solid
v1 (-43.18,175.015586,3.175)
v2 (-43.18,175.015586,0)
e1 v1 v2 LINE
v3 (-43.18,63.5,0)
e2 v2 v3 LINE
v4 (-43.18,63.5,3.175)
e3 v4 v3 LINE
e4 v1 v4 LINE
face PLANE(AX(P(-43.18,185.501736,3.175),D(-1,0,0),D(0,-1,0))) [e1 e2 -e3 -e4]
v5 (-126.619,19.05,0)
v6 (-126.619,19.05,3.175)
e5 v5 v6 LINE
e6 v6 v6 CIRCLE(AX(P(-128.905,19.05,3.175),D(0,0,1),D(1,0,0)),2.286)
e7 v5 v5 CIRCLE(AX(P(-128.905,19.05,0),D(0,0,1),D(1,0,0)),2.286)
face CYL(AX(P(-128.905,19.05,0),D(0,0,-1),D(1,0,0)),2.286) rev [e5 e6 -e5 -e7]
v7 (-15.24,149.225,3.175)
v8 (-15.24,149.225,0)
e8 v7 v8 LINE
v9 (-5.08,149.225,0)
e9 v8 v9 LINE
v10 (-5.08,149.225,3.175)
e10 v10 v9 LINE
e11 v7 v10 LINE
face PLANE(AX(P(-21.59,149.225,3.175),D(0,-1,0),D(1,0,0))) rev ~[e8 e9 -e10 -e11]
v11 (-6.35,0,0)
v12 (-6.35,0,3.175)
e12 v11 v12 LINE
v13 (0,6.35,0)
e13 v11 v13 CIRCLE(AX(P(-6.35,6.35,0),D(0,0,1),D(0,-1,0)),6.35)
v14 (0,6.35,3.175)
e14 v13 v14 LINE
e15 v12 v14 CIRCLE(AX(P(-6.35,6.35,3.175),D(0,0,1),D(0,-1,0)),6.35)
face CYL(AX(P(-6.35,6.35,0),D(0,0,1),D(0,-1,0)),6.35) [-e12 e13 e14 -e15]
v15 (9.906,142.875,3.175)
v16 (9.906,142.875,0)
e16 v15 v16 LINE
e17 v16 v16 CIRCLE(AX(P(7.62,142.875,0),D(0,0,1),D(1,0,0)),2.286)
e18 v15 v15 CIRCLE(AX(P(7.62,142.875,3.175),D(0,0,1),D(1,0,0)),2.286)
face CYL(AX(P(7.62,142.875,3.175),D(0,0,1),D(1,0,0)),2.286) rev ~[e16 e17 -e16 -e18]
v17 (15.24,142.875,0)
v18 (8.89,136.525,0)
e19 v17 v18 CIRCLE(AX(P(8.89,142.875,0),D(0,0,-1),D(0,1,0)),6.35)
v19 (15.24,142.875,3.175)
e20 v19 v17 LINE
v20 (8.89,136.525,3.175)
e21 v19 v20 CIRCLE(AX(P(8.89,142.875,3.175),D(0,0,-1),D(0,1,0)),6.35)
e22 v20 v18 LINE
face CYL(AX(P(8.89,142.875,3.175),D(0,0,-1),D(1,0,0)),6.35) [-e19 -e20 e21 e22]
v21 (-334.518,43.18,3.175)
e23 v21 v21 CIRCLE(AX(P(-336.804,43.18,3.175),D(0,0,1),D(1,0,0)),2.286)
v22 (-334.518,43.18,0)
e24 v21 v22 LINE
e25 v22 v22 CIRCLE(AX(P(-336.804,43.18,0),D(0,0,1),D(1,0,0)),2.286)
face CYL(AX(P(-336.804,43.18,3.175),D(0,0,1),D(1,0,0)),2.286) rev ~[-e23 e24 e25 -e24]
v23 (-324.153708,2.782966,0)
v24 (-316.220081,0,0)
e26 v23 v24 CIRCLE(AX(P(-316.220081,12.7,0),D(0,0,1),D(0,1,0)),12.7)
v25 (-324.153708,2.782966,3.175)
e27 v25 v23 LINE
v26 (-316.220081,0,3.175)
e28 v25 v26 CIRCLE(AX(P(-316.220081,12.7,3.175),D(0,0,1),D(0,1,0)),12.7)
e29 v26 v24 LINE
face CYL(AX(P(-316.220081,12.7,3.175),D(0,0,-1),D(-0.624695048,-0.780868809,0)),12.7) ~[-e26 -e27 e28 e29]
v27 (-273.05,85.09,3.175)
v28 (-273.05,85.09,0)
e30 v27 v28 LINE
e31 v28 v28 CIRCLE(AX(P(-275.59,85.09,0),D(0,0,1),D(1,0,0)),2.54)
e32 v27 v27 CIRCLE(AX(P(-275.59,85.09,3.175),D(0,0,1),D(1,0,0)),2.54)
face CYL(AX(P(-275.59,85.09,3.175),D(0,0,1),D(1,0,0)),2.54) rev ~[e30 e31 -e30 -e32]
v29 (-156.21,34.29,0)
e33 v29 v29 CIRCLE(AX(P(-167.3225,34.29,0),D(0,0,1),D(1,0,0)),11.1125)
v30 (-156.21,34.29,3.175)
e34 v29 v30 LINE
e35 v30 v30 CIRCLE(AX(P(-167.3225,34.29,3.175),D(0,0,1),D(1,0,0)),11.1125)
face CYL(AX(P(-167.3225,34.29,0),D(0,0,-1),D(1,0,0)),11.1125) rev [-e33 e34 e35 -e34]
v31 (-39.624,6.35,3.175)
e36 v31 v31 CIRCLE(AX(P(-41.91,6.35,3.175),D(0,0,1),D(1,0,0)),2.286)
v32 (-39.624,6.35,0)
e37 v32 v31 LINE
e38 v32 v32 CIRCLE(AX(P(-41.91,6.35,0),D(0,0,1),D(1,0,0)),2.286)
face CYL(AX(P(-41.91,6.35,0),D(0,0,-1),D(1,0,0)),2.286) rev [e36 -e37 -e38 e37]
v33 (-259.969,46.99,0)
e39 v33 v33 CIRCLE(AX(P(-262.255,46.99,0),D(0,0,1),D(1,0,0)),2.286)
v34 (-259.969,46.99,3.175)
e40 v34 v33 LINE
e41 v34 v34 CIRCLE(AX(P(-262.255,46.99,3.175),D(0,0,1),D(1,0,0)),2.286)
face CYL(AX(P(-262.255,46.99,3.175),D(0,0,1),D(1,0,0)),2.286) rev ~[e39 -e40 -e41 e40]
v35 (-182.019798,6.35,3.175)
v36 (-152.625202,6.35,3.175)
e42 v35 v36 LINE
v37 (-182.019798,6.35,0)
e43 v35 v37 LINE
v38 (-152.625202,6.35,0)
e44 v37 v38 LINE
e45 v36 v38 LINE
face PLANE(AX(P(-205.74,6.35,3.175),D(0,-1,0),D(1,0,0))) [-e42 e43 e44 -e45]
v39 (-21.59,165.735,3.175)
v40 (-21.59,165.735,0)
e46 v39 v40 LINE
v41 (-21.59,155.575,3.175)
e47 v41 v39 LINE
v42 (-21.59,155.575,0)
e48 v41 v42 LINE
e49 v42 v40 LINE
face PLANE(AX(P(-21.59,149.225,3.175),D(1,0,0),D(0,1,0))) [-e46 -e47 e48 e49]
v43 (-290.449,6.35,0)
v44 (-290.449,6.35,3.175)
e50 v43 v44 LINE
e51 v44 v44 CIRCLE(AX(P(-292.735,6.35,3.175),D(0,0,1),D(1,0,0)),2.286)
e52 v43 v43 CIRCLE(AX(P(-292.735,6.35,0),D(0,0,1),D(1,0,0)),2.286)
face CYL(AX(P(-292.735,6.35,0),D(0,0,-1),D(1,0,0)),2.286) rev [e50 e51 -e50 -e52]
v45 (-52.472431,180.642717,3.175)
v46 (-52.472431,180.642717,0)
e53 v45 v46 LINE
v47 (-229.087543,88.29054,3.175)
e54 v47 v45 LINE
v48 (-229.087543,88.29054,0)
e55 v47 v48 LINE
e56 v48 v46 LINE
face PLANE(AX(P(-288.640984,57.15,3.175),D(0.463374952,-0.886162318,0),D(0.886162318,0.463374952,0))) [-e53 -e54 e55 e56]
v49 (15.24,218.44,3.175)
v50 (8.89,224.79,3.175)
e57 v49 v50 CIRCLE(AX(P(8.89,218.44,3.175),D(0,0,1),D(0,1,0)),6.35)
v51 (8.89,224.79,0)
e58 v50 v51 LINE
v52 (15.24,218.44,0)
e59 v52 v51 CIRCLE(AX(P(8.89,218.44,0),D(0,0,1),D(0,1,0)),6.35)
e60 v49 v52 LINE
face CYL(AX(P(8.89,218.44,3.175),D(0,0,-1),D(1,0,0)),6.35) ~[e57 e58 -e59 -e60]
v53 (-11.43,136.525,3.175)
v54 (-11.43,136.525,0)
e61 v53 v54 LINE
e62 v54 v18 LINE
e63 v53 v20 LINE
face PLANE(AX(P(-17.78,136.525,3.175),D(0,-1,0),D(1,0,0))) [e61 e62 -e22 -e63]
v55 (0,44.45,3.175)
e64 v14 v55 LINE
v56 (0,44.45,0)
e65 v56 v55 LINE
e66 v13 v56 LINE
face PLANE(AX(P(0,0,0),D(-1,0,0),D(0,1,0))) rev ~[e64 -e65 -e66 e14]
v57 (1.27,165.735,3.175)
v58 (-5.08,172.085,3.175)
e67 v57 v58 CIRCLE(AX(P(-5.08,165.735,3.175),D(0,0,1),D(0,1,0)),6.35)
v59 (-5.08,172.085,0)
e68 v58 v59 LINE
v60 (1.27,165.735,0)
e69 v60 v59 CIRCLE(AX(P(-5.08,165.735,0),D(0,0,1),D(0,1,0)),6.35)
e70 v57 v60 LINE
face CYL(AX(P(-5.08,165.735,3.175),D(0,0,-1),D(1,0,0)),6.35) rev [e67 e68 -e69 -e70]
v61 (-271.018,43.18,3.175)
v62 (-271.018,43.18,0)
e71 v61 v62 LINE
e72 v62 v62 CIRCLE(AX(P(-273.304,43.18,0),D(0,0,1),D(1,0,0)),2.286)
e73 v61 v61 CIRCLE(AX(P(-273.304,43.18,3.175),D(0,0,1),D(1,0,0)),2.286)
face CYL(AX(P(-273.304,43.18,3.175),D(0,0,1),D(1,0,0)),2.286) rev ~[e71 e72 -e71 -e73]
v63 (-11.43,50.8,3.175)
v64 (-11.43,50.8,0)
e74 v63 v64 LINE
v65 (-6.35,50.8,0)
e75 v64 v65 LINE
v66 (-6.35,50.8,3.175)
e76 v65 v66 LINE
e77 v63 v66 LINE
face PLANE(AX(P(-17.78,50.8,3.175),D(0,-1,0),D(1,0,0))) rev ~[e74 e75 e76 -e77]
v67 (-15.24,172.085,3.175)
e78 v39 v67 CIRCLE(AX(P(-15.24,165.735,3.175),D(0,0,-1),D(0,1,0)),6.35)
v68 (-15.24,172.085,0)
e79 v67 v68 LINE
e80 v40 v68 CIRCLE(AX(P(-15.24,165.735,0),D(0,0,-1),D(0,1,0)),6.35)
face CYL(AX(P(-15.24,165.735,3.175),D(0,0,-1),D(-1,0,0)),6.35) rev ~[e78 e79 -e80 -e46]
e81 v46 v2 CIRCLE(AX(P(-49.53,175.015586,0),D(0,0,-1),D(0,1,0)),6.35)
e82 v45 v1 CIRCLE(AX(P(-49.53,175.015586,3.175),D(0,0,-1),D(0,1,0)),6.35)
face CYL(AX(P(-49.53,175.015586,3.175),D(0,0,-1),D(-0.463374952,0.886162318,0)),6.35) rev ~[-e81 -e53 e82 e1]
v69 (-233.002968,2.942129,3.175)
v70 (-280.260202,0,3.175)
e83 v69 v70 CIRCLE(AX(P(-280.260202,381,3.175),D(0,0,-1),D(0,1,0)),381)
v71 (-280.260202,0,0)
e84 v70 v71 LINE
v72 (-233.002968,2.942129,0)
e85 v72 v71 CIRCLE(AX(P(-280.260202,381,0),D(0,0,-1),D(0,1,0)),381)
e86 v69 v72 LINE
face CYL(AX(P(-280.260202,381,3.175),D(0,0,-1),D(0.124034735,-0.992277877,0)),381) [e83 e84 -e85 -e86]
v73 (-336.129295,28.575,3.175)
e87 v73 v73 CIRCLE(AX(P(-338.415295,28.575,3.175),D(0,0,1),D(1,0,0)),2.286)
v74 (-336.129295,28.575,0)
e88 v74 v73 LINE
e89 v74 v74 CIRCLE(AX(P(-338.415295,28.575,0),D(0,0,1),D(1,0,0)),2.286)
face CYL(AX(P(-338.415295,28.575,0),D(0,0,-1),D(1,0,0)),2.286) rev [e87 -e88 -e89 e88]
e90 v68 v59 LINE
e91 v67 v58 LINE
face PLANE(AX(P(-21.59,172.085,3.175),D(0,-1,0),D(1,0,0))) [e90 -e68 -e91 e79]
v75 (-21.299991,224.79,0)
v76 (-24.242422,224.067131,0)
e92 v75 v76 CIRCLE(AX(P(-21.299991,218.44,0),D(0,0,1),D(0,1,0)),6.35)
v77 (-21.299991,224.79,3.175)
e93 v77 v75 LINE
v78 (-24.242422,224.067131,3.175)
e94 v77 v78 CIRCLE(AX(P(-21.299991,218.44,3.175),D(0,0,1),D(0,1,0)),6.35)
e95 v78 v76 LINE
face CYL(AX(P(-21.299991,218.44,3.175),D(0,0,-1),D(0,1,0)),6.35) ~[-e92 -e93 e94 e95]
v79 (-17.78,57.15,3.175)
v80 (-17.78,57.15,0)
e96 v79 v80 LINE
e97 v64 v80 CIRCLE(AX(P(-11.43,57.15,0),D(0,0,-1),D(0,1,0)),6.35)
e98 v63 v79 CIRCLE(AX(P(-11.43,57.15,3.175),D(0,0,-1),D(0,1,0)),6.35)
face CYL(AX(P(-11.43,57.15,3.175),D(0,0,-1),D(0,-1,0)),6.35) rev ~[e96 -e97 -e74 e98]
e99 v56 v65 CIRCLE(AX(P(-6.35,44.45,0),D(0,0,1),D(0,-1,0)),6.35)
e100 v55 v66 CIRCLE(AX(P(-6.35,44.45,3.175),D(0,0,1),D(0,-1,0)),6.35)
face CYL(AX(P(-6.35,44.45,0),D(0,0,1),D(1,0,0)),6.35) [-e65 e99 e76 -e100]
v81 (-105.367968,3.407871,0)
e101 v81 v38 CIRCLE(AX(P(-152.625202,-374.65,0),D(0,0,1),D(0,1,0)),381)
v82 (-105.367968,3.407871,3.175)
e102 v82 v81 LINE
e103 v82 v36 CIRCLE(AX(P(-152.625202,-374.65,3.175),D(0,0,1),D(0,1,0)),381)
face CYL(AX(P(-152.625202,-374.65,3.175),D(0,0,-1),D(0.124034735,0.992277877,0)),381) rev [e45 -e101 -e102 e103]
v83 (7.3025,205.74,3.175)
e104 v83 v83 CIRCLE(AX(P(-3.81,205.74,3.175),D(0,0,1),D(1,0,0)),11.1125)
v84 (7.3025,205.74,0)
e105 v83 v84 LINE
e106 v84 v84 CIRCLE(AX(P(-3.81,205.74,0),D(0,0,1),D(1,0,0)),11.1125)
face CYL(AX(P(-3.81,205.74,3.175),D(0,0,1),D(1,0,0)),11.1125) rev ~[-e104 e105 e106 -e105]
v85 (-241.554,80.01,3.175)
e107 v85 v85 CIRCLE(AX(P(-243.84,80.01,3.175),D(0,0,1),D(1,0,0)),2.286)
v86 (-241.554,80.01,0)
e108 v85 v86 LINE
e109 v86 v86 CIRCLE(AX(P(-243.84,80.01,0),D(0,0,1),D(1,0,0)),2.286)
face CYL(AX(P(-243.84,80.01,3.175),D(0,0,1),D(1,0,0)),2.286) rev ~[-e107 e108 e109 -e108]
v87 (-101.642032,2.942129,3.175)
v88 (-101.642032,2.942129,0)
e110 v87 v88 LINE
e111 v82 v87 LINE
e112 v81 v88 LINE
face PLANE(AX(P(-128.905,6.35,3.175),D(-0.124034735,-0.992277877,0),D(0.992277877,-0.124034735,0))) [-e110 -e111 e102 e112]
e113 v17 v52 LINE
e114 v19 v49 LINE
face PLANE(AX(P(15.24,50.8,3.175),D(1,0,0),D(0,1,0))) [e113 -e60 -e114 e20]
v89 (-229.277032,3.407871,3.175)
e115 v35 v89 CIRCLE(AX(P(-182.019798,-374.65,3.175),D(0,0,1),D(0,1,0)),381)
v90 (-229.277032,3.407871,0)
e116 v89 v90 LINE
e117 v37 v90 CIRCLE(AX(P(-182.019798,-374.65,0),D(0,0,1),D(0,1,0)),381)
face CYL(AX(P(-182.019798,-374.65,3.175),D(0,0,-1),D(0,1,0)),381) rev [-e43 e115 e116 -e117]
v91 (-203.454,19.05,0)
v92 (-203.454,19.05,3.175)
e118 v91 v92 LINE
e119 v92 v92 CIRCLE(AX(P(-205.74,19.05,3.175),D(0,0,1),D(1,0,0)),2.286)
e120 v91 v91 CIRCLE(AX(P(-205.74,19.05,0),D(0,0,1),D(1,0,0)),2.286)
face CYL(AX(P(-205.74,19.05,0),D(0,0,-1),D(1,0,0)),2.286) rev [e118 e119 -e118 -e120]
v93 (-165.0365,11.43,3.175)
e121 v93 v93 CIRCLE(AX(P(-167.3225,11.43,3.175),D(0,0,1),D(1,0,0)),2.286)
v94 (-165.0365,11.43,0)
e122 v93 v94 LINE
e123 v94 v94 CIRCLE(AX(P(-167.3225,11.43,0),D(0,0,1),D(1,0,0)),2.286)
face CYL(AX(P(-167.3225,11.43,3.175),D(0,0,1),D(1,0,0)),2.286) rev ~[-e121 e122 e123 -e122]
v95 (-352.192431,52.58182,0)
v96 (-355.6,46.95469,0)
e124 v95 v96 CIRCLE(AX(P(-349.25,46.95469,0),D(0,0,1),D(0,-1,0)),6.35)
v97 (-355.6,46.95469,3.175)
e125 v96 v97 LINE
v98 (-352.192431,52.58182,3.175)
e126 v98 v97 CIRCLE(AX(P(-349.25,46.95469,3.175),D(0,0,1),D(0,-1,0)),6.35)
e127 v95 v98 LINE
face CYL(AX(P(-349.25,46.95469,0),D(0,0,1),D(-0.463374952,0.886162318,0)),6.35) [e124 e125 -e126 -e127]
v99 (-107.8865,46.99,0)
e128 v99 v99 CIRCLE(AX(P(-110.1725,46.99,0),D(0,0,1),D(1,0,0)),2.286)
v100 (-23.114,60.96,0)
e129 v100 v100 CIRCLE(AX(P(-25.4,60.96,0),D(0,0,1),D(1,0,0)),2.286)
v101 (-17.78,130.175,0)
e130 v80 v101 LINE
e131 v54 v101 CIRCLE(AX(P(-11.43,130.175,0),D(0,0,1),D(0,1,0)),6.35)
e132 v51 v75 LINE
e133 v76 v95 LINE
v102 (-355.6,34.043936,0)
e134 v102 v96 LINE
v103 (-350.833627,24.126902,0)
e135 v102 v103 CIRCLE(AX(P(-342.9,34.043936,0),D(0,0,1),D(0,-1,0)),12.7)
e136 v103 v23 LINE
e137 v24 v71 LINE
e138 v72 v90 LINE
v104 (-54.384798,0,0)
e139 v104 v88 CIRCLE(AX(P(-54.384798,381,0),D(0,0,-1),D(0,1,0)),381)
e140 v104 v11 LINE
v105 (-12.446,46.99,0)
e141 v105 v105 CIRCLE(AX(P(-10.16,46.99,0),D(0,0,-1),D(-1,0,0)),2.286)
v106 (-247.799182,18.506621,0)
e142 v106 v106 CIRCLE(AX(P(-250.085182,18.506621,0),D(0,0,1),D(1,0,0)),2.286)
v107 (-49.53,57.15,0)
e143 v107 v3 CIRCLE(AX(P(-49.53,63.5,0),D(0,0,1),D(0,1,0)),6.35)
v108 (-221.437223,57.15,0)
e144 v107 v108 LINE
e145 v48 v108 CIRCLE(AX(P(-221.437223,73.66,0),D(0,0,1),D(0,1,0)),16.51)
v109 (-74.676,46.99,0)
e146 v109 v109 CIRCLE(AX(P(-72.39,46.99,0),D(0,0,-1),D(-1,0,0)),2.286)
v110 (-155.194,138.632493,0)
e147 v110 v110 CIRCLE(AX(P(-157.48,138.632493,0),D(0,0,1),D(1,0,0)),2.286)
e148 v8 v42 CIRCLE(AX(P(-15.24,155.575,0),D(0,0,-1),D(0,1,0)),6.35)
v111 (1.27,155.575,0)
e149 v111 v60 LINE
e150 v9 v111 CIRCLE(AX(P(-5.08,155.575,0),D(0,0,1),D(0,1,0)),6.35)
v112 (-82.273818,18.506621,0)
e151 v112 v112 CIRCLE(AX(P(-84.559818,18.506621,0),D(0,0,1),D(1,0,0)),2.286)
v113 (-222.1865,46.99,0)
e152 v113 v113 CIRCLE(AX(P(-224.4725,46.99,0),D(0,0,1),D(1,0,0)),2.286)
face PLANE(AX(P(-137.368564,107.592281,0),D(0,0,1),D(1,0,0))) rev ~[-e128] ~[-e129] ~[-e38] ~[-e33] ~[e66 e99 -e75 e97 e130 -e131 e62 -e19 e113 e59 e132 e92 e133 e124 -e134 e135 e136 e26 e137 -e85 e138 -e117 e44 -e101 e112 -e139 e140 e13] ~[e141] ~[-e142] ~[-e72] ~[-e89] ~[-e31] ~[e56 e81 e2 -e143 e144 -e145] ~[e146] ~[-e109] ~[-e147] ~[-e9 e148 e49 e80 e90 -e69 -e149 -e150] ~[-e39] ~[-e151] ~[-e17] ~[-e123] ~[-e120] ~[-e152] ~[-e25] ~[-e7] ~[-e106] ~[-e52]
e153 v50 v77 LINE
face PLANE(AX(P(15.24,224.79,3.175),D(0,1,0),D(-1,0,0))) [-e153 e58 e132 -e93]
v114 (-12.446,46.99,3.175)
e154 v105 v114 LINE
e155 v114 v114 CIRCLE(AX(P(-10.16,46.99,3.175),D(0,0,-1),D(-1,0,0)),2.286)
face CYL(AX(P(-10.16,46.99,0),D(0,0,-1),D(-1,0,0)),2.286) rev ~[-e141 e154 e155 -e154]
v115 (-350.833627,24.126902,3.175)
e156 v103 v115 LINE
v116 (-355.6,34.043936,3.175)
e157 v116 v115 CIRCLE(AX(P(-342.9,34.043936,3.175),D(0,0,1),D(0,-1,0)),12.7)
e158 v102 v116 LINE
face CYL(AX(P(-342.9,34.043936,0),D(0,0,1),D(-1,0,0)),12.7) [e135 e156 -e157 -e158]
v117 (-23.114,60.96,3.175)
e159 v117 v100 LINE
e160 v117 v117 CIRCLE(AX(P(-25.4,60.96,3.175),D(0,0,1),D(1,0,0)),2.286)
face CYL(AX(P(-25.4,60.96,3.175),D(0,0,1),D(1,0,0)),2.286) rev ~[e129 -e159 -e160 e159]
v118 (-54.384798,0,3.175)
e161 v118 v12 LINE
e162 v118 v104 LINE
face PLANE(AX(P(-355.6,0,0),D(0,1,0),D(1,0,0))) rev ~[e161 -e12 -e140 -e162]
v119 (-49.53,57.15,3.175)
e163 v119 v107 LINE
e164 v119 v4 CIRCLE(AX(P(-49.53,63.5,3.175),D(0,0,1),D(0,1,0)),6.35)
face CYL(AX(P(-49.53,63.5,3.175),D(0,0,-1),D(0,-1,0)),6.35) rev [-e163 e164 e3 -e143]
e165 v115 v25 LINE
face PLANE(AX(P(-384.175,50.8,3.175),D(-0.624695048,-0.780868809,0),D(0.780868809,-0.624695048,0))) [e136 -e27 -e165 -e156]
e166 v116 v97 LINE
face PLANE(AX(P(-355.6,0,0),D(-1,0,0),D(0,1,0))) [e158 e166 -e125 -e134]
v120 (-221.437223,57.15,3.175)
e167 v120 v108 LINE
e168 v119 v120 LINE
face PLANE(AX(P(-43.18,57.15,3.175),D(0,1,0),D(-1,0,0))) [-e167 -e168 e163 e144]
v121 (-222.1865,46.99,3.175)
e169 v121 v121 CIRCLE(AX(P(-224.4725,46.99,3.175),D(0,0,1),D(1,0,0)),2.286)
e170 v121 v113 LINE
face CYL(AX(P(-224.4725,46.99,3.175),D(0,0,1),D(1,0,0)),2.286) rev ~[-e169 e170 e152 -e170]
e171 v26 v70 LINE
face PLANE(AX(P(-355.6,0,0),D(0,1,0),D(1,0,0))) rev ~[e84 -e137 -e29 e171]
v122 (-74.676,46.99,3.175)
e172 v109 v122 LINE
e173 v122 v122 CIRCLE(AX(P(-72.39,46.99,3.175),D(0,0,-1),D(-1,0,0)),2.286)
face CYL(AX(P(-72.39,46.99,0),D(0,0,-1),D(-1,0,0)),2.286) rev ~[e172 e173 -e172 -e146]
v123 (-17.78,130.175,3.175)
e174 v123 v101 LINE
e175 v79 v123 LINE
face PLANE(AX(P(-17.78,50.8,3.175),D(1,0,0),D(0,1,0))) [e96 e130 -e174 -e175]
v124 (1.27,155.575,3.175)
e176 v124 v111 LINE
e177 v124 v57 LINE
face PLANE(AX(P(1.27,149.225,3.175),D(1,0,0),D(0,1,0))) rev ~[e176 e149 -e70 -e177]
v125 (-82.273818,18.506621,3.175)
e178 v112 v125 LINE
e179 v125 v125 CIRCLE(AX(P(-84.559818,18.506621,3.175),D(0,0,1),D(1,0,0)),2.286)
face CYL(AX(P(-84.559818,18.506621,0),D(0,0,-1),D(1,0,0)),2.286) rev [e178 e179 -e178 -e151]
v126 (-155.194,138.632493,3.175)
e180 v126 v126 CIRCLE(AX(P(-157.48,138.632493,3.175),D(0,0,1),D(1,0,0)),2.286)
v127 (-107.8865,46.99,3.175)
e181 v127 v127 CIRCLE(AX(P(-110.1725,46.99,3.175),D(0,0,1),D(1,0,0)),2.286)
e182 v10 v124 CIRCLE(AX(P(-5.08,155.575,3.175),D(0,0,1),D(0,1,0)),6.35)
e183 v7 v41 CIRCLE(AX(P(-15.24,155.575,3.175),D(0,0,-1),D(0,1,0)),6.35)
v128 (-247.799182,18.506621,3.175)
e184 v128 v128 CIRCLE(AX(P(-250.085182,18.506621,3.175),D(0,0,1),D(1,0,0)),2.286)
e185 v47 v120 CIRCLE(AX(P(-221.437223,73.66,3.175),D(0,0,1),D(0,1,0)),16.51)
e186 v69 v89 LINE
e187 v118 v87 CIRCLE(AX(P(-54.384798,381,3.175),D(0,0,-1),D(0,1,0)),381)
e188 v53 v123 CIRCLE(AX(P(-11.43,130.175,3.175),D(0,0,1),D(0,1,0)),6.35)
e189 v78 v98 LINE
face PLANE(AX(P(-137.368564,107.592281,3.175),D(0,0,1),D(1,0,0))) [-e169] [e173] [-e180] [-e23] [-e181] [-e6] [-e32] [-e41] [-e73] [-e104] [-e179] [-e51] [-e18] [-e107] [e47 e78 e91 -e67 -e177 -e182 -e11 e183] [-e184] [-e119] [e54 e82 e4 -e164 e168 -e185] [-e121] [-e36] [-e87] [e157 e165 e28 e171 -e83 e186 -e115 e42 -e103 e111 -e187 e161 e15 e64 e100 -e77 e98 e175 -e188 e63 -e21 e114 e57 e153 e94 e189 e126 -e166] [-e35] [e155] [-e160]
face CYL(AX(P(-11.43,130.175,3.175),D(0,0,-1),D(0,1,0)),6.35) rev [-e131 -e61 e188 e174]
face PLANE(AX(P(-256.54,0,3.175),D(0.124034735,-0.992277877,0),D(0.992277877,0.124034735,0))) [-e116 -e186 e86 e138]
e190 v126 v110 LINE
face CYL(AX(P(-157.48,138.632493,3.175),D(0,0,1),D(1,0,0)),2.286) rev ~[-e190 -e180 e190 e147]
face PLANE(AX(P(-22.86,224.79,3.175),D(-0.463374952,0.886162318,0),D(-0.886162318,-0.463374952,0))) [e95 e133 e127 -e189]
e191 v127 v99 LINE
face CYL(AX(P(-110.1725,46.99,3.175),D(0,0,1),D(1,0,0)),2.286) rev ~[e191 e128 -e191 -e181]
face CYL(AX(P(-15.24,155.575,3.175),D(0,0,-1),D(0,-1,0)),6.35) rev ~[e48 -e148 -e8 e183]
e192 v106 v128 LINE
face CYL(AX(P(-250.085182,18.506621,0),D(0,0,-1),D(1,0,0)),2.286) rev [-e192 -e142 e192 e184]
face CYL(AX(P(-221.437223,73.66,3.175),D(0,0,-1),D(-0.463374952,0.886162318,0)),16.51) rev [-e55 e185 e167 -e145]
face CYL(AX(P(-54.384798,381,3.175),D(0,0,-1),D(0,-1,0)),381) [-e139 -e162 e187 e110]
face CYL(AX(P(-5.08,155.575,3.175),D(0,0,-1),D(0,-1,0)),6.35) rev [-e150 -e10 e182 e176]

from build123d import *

# Parameters (mm, degrees)
SKETCH1_W            = 355.6
SKETCH1_H            = 50.8
SKETCH1_R            = 2.286
SKETCH1_R_2          = 11.1125
BOTTOM_2_DEPTH       = 3.175
CUT_EXTRUDE1_DEPTH   = 360.224276219
FILLET1_R            = 12.7
BOTTOM_CUTOUT_DEPTH  = 360.224276219
SKETCH5_R            = 11.1125
UPPER_TRIANGLE_DEPTH = 3.175
SKETCH6_R            = 2.286
GEARBOX_HOLES_DEPTH  = 421.704153444
SKETCH7_R            = 2.286
CUT_EXTRUDE4_DEPTH   = 421.704153444
SKETCH8_R            = 2.286
SKETCH8_W            = 22.86
SKETCH8_H            = 22.86
SKETCH8_W_2          = 33.02
SKETCH8_H_2          = 85.725
CUT_EXTRUDE5_DEPTH   = 421.704153444
SKETCH9_R            = 2.286
CUT_EXTRUDE6_DEPTH   = 421.704153444
FILLET2_R            = 6.35
FILLET3_R            = 6.35
SKETCH16_R           = 2.286
CUT_EXTRUDE12_DEPTH  = 421.704153444
FILLET11_R           = 16.51
SKETCH19_R           = 2.54
SKETCH19_R_2         = 2.286
CUT_EXTRUDE14_DEPTH  = 421.704153444
FILLET7_R            = 381
FILLET8_R            = 6.35
SKETCH12_R           = 2.286
CUT_EXTRUDE8_DEPTH   = 421.704153444


with BuildPart() as part:
    # Sketch1 → Bottom 2" (new body)
    with BuildSketch(Plane.XY):
        with Locations((-177.8, 25.4)):
            Rectangle(SKETCH1_W, SKETCH1_H)
        with Locations((-41.91, 6.35)):
            Circle(SKETCH1_R, mode=Mode.SUBTRACT)
        with Locations((-292.735, 6.35)):
            Circle(SKETCH1_R, mode=Mode.SUBTRACT)
        with Locations((-205.74, 19.05)):
            Circle(SKETCH1_R, mode=Mode.SUBTRACT)
        with Locations((-167.3225, 34.29)):
            Circle(SKETCH1_R_2, mode=Mode.SUBTRACT)
        with Locations((-250.085181934, 18.50662125)):
            Circle(SKETCH1_R, mode=Mode.SUBTRACT)
        with Locations((-84.559818066, 18.50662125)):
            Circle(SKETCH1_R, mode=Mode.SUBTRACT)
        with Locations((-128.905, 19.05)):
            Circle(SKETCH1_R, mode=Mode.SUBTRACT)
        with Locations((-338.41529526, 28.575)):
            Circle(SKETCH1_R, mode=Mode.SUBTRACT)
    extrude(amount=BOTTOM_2_DEPTH)

    # Sketch2 → Cut-Extrude1 (cut, through all)
    with BuildSketch(Plane.XY.offset(3.175)):
        Polygon((-384.175, 50.8), (-320.675, 0), (-384.175, 0), align=None)
    extrude(amount=-CUT_EXTRUDE1_DEPTH, mode=Mode.SUBTRACT)

    # Fillet1
    fillet1_edges = [part.edges().sort_by_distance(p)[0] for p in [
        (-355.6, 27.94, 1.5875),
        (-320.675, 0, 1.5875),
    ]]
    fillet(fillet1_edges, radius=FILLET1_R)

    # Sketch3 → Bottom Cutout (cut, through all)
    with BuildSketch(Plane.XY.offset(3.175)):
        Polygon((-256.54, 0), (-205.74, 6.35), (-128.905, 6.35), (-78.105, 0), align=None)
    extrude(amount=-BOTTOM_CUTOUT_DEPTH, mode=Mode.SUBTRACT)

    # Sketch5 → Upper Triangle (add)
    with BuildSketch(Plane.XY.offset(3.175)):
        Polygon((15.24, 50.8), (15.24, 224.79), (-22.86, 224.79), (-355.6, 50.8), align=None)
        with Locations((-3.81, 205.74)):
            Circle(SKETCH5_R, mode=Mode.SUBTRACT)
    extrude(amount=-UPPER_TRIANGLE_DEPTH)

    # Sketch6 → Gearbox Holes (cut, through all)
    with BuildSketch(Plane.XY.offset(3.175)):
        with Locations((-110.1725, 46.99)):
            Circle(SKETCH6_R)
        with Locations((-167.3225, 11.43)):
            Circle(SKETCH6_R)
        with Locations((-224.4725, 46.99)):
            Circle(SKETCH6_R)
    extrude(amount=-GEARBOX_HOLES_DEPTH, mode=Mode.SUBTRACT)

    # Sketch7 → Cut-Extrude4 (cut, through all)
    with BuildSketch(Plane.XY.offset(3.175)):
        with Locations((-25.4, 60.96)):
            Circle(SKETCH7_R)
    extrude(amount=-CUT_EXTRUDE4_DEPTH, mode=Mode.SUBTRACT)

    # Sketch8 → Cut-Extrude5 (cut, through all)
    with BuildSketch(Plane.XY.offset(3.175)):
        with Locations((7.62, 142.875)):
            Circle(SKETCH8_R)
        with Locations((-157.48, 138.632493002)):
            Circle(SKETCH8_R)
        with Locations((-10.16, 160.655)):
            Rectangle(SKETCH8_W, SKETCH8_H)
        with Locations((-1.27, 93.6625)):
            Rectangle(SKETCH8_W_2, SKETCH8_H_2)
        Polygon((-43.18, 185.501736062), (-43.18, 57.15), (-288.640984293, 57.15), align=None)
    extrude(amount=-CUT_EXTRUDE5_DEPTH, mode=Mode.SUBTRACT)

    # Sketch9 → Cut-Extrude6 (cut, through all)
    with BuildSketch(Plane(origin=(0, 0, 0), x_dir=(-1, 0, 0), z_dir=(0, 0, -1))):
        with Locations((10.16, 46.99)):
            Circle(SKETCH9_R)
        with Locations((72.39, 46.99)):
            Circle(SKETCH9_R)
    extrude(amount=-CUT_EXTRUDE6_DEPTH, mode=Mode.SUBTRACT)

    # Fillet2
    fillet2_edges = [part.edges().sort_by_distance(p)[0] for p in [
        (-43.18, 185.501736062, 1.5875),
        (-43.18, 57.15, 1.5875),
        (15.24, 136.525, 1.5875),
        (-17.78, 136.525, 1.5875),
        (-355.6, 50.8, 1.5875),
        (15.24, 224.79, 1.5875),
        (-22.86, 224.79, 1.5875),
    ]]
    fillet(fillet2_edges, radius=FILLET2_R)

    # Fillet3
    fillet3_edges = [part.edges().sort_by_distance(p)[0] for p in [
        (1.27, 172.085, 1.5875),
        (1.27, 149.225, 1.5875),
        (-21.59, 149.225, 1.5875),
        (-21.59, 172.085, 1.5875),
    ]]
    fillet(fillet3_edges, radius=FILLET3_R)

    # Sketch16 → Cut-Extrude12 (cut, through all)
    with BuildSketch(Plane.XY.offset(3.175)):
        with Locations((-262.255, 46.99)):
            Circle(SKETCH16_R)
    extrude(amount=-CUT_EXTRUDE12_DEPTH, mode=Mode.SUBTRACT)

    # Fillet11
    fillet11_edges = [part.edges().sort_by_distance(p)[0] for p in [
        (-288.640984293, 57.15, 1.5875),
    ]]
    fillet(fillet11_edges, radius=FILLET11_R)

    # Sketch19 → Cut-Extrude14 (cut, through all)
    with BuildSketch(Plane.XY.offset(3.175)):
        with Locations((-275.59, 85.09)):
            Circle(SKETCH19_R)
        with Locations((-243.84, 80.01)):
            Circle(SKETCH19_R_2)
    extrude(amount=-CUT_EXTRUDE14_DEPTH, mode=Mode.SUBTRACT)

    # Fillet7
    fillet7_edges = [part.edges().sort_by_distance(p)[0] for p in [
        (-78.105, 0, 1.5875),
        (-256.54, 0, 1.5875),
        (-205.74, 6.35, 1.5875),
        (-128.905, 6.35, 1.5875),
    ]]
    fillet(fillet7_edges, radius=FILLET7_R)

    # Fillet8
    fillet8_edges = [part.edges().sort_by_distance(p)[0] for p in [
        (-17.78, 50.8, 1.5875),
        (0, 50.8, 1.5875),
        (0, 0, 1.5875),
    ]]
    fillet(fillet8_edges, radius=FILLET8_R)

    # Sketch12 → Cut-Extrude8 (cut, through all)
    with BuildSketch(Plane.XY.offset(3.175)):
        with Locations((-336.804, 43.18)):
            Circle(SKETCH12_R)
        with Locations((-273.304, 43.18)):
            Circle(SKETCH12_R)
    extrude(amount=-CUT_EXTRUDE8_DEPTH, mode=Mode.SUBTRACT)


solid = part.part
